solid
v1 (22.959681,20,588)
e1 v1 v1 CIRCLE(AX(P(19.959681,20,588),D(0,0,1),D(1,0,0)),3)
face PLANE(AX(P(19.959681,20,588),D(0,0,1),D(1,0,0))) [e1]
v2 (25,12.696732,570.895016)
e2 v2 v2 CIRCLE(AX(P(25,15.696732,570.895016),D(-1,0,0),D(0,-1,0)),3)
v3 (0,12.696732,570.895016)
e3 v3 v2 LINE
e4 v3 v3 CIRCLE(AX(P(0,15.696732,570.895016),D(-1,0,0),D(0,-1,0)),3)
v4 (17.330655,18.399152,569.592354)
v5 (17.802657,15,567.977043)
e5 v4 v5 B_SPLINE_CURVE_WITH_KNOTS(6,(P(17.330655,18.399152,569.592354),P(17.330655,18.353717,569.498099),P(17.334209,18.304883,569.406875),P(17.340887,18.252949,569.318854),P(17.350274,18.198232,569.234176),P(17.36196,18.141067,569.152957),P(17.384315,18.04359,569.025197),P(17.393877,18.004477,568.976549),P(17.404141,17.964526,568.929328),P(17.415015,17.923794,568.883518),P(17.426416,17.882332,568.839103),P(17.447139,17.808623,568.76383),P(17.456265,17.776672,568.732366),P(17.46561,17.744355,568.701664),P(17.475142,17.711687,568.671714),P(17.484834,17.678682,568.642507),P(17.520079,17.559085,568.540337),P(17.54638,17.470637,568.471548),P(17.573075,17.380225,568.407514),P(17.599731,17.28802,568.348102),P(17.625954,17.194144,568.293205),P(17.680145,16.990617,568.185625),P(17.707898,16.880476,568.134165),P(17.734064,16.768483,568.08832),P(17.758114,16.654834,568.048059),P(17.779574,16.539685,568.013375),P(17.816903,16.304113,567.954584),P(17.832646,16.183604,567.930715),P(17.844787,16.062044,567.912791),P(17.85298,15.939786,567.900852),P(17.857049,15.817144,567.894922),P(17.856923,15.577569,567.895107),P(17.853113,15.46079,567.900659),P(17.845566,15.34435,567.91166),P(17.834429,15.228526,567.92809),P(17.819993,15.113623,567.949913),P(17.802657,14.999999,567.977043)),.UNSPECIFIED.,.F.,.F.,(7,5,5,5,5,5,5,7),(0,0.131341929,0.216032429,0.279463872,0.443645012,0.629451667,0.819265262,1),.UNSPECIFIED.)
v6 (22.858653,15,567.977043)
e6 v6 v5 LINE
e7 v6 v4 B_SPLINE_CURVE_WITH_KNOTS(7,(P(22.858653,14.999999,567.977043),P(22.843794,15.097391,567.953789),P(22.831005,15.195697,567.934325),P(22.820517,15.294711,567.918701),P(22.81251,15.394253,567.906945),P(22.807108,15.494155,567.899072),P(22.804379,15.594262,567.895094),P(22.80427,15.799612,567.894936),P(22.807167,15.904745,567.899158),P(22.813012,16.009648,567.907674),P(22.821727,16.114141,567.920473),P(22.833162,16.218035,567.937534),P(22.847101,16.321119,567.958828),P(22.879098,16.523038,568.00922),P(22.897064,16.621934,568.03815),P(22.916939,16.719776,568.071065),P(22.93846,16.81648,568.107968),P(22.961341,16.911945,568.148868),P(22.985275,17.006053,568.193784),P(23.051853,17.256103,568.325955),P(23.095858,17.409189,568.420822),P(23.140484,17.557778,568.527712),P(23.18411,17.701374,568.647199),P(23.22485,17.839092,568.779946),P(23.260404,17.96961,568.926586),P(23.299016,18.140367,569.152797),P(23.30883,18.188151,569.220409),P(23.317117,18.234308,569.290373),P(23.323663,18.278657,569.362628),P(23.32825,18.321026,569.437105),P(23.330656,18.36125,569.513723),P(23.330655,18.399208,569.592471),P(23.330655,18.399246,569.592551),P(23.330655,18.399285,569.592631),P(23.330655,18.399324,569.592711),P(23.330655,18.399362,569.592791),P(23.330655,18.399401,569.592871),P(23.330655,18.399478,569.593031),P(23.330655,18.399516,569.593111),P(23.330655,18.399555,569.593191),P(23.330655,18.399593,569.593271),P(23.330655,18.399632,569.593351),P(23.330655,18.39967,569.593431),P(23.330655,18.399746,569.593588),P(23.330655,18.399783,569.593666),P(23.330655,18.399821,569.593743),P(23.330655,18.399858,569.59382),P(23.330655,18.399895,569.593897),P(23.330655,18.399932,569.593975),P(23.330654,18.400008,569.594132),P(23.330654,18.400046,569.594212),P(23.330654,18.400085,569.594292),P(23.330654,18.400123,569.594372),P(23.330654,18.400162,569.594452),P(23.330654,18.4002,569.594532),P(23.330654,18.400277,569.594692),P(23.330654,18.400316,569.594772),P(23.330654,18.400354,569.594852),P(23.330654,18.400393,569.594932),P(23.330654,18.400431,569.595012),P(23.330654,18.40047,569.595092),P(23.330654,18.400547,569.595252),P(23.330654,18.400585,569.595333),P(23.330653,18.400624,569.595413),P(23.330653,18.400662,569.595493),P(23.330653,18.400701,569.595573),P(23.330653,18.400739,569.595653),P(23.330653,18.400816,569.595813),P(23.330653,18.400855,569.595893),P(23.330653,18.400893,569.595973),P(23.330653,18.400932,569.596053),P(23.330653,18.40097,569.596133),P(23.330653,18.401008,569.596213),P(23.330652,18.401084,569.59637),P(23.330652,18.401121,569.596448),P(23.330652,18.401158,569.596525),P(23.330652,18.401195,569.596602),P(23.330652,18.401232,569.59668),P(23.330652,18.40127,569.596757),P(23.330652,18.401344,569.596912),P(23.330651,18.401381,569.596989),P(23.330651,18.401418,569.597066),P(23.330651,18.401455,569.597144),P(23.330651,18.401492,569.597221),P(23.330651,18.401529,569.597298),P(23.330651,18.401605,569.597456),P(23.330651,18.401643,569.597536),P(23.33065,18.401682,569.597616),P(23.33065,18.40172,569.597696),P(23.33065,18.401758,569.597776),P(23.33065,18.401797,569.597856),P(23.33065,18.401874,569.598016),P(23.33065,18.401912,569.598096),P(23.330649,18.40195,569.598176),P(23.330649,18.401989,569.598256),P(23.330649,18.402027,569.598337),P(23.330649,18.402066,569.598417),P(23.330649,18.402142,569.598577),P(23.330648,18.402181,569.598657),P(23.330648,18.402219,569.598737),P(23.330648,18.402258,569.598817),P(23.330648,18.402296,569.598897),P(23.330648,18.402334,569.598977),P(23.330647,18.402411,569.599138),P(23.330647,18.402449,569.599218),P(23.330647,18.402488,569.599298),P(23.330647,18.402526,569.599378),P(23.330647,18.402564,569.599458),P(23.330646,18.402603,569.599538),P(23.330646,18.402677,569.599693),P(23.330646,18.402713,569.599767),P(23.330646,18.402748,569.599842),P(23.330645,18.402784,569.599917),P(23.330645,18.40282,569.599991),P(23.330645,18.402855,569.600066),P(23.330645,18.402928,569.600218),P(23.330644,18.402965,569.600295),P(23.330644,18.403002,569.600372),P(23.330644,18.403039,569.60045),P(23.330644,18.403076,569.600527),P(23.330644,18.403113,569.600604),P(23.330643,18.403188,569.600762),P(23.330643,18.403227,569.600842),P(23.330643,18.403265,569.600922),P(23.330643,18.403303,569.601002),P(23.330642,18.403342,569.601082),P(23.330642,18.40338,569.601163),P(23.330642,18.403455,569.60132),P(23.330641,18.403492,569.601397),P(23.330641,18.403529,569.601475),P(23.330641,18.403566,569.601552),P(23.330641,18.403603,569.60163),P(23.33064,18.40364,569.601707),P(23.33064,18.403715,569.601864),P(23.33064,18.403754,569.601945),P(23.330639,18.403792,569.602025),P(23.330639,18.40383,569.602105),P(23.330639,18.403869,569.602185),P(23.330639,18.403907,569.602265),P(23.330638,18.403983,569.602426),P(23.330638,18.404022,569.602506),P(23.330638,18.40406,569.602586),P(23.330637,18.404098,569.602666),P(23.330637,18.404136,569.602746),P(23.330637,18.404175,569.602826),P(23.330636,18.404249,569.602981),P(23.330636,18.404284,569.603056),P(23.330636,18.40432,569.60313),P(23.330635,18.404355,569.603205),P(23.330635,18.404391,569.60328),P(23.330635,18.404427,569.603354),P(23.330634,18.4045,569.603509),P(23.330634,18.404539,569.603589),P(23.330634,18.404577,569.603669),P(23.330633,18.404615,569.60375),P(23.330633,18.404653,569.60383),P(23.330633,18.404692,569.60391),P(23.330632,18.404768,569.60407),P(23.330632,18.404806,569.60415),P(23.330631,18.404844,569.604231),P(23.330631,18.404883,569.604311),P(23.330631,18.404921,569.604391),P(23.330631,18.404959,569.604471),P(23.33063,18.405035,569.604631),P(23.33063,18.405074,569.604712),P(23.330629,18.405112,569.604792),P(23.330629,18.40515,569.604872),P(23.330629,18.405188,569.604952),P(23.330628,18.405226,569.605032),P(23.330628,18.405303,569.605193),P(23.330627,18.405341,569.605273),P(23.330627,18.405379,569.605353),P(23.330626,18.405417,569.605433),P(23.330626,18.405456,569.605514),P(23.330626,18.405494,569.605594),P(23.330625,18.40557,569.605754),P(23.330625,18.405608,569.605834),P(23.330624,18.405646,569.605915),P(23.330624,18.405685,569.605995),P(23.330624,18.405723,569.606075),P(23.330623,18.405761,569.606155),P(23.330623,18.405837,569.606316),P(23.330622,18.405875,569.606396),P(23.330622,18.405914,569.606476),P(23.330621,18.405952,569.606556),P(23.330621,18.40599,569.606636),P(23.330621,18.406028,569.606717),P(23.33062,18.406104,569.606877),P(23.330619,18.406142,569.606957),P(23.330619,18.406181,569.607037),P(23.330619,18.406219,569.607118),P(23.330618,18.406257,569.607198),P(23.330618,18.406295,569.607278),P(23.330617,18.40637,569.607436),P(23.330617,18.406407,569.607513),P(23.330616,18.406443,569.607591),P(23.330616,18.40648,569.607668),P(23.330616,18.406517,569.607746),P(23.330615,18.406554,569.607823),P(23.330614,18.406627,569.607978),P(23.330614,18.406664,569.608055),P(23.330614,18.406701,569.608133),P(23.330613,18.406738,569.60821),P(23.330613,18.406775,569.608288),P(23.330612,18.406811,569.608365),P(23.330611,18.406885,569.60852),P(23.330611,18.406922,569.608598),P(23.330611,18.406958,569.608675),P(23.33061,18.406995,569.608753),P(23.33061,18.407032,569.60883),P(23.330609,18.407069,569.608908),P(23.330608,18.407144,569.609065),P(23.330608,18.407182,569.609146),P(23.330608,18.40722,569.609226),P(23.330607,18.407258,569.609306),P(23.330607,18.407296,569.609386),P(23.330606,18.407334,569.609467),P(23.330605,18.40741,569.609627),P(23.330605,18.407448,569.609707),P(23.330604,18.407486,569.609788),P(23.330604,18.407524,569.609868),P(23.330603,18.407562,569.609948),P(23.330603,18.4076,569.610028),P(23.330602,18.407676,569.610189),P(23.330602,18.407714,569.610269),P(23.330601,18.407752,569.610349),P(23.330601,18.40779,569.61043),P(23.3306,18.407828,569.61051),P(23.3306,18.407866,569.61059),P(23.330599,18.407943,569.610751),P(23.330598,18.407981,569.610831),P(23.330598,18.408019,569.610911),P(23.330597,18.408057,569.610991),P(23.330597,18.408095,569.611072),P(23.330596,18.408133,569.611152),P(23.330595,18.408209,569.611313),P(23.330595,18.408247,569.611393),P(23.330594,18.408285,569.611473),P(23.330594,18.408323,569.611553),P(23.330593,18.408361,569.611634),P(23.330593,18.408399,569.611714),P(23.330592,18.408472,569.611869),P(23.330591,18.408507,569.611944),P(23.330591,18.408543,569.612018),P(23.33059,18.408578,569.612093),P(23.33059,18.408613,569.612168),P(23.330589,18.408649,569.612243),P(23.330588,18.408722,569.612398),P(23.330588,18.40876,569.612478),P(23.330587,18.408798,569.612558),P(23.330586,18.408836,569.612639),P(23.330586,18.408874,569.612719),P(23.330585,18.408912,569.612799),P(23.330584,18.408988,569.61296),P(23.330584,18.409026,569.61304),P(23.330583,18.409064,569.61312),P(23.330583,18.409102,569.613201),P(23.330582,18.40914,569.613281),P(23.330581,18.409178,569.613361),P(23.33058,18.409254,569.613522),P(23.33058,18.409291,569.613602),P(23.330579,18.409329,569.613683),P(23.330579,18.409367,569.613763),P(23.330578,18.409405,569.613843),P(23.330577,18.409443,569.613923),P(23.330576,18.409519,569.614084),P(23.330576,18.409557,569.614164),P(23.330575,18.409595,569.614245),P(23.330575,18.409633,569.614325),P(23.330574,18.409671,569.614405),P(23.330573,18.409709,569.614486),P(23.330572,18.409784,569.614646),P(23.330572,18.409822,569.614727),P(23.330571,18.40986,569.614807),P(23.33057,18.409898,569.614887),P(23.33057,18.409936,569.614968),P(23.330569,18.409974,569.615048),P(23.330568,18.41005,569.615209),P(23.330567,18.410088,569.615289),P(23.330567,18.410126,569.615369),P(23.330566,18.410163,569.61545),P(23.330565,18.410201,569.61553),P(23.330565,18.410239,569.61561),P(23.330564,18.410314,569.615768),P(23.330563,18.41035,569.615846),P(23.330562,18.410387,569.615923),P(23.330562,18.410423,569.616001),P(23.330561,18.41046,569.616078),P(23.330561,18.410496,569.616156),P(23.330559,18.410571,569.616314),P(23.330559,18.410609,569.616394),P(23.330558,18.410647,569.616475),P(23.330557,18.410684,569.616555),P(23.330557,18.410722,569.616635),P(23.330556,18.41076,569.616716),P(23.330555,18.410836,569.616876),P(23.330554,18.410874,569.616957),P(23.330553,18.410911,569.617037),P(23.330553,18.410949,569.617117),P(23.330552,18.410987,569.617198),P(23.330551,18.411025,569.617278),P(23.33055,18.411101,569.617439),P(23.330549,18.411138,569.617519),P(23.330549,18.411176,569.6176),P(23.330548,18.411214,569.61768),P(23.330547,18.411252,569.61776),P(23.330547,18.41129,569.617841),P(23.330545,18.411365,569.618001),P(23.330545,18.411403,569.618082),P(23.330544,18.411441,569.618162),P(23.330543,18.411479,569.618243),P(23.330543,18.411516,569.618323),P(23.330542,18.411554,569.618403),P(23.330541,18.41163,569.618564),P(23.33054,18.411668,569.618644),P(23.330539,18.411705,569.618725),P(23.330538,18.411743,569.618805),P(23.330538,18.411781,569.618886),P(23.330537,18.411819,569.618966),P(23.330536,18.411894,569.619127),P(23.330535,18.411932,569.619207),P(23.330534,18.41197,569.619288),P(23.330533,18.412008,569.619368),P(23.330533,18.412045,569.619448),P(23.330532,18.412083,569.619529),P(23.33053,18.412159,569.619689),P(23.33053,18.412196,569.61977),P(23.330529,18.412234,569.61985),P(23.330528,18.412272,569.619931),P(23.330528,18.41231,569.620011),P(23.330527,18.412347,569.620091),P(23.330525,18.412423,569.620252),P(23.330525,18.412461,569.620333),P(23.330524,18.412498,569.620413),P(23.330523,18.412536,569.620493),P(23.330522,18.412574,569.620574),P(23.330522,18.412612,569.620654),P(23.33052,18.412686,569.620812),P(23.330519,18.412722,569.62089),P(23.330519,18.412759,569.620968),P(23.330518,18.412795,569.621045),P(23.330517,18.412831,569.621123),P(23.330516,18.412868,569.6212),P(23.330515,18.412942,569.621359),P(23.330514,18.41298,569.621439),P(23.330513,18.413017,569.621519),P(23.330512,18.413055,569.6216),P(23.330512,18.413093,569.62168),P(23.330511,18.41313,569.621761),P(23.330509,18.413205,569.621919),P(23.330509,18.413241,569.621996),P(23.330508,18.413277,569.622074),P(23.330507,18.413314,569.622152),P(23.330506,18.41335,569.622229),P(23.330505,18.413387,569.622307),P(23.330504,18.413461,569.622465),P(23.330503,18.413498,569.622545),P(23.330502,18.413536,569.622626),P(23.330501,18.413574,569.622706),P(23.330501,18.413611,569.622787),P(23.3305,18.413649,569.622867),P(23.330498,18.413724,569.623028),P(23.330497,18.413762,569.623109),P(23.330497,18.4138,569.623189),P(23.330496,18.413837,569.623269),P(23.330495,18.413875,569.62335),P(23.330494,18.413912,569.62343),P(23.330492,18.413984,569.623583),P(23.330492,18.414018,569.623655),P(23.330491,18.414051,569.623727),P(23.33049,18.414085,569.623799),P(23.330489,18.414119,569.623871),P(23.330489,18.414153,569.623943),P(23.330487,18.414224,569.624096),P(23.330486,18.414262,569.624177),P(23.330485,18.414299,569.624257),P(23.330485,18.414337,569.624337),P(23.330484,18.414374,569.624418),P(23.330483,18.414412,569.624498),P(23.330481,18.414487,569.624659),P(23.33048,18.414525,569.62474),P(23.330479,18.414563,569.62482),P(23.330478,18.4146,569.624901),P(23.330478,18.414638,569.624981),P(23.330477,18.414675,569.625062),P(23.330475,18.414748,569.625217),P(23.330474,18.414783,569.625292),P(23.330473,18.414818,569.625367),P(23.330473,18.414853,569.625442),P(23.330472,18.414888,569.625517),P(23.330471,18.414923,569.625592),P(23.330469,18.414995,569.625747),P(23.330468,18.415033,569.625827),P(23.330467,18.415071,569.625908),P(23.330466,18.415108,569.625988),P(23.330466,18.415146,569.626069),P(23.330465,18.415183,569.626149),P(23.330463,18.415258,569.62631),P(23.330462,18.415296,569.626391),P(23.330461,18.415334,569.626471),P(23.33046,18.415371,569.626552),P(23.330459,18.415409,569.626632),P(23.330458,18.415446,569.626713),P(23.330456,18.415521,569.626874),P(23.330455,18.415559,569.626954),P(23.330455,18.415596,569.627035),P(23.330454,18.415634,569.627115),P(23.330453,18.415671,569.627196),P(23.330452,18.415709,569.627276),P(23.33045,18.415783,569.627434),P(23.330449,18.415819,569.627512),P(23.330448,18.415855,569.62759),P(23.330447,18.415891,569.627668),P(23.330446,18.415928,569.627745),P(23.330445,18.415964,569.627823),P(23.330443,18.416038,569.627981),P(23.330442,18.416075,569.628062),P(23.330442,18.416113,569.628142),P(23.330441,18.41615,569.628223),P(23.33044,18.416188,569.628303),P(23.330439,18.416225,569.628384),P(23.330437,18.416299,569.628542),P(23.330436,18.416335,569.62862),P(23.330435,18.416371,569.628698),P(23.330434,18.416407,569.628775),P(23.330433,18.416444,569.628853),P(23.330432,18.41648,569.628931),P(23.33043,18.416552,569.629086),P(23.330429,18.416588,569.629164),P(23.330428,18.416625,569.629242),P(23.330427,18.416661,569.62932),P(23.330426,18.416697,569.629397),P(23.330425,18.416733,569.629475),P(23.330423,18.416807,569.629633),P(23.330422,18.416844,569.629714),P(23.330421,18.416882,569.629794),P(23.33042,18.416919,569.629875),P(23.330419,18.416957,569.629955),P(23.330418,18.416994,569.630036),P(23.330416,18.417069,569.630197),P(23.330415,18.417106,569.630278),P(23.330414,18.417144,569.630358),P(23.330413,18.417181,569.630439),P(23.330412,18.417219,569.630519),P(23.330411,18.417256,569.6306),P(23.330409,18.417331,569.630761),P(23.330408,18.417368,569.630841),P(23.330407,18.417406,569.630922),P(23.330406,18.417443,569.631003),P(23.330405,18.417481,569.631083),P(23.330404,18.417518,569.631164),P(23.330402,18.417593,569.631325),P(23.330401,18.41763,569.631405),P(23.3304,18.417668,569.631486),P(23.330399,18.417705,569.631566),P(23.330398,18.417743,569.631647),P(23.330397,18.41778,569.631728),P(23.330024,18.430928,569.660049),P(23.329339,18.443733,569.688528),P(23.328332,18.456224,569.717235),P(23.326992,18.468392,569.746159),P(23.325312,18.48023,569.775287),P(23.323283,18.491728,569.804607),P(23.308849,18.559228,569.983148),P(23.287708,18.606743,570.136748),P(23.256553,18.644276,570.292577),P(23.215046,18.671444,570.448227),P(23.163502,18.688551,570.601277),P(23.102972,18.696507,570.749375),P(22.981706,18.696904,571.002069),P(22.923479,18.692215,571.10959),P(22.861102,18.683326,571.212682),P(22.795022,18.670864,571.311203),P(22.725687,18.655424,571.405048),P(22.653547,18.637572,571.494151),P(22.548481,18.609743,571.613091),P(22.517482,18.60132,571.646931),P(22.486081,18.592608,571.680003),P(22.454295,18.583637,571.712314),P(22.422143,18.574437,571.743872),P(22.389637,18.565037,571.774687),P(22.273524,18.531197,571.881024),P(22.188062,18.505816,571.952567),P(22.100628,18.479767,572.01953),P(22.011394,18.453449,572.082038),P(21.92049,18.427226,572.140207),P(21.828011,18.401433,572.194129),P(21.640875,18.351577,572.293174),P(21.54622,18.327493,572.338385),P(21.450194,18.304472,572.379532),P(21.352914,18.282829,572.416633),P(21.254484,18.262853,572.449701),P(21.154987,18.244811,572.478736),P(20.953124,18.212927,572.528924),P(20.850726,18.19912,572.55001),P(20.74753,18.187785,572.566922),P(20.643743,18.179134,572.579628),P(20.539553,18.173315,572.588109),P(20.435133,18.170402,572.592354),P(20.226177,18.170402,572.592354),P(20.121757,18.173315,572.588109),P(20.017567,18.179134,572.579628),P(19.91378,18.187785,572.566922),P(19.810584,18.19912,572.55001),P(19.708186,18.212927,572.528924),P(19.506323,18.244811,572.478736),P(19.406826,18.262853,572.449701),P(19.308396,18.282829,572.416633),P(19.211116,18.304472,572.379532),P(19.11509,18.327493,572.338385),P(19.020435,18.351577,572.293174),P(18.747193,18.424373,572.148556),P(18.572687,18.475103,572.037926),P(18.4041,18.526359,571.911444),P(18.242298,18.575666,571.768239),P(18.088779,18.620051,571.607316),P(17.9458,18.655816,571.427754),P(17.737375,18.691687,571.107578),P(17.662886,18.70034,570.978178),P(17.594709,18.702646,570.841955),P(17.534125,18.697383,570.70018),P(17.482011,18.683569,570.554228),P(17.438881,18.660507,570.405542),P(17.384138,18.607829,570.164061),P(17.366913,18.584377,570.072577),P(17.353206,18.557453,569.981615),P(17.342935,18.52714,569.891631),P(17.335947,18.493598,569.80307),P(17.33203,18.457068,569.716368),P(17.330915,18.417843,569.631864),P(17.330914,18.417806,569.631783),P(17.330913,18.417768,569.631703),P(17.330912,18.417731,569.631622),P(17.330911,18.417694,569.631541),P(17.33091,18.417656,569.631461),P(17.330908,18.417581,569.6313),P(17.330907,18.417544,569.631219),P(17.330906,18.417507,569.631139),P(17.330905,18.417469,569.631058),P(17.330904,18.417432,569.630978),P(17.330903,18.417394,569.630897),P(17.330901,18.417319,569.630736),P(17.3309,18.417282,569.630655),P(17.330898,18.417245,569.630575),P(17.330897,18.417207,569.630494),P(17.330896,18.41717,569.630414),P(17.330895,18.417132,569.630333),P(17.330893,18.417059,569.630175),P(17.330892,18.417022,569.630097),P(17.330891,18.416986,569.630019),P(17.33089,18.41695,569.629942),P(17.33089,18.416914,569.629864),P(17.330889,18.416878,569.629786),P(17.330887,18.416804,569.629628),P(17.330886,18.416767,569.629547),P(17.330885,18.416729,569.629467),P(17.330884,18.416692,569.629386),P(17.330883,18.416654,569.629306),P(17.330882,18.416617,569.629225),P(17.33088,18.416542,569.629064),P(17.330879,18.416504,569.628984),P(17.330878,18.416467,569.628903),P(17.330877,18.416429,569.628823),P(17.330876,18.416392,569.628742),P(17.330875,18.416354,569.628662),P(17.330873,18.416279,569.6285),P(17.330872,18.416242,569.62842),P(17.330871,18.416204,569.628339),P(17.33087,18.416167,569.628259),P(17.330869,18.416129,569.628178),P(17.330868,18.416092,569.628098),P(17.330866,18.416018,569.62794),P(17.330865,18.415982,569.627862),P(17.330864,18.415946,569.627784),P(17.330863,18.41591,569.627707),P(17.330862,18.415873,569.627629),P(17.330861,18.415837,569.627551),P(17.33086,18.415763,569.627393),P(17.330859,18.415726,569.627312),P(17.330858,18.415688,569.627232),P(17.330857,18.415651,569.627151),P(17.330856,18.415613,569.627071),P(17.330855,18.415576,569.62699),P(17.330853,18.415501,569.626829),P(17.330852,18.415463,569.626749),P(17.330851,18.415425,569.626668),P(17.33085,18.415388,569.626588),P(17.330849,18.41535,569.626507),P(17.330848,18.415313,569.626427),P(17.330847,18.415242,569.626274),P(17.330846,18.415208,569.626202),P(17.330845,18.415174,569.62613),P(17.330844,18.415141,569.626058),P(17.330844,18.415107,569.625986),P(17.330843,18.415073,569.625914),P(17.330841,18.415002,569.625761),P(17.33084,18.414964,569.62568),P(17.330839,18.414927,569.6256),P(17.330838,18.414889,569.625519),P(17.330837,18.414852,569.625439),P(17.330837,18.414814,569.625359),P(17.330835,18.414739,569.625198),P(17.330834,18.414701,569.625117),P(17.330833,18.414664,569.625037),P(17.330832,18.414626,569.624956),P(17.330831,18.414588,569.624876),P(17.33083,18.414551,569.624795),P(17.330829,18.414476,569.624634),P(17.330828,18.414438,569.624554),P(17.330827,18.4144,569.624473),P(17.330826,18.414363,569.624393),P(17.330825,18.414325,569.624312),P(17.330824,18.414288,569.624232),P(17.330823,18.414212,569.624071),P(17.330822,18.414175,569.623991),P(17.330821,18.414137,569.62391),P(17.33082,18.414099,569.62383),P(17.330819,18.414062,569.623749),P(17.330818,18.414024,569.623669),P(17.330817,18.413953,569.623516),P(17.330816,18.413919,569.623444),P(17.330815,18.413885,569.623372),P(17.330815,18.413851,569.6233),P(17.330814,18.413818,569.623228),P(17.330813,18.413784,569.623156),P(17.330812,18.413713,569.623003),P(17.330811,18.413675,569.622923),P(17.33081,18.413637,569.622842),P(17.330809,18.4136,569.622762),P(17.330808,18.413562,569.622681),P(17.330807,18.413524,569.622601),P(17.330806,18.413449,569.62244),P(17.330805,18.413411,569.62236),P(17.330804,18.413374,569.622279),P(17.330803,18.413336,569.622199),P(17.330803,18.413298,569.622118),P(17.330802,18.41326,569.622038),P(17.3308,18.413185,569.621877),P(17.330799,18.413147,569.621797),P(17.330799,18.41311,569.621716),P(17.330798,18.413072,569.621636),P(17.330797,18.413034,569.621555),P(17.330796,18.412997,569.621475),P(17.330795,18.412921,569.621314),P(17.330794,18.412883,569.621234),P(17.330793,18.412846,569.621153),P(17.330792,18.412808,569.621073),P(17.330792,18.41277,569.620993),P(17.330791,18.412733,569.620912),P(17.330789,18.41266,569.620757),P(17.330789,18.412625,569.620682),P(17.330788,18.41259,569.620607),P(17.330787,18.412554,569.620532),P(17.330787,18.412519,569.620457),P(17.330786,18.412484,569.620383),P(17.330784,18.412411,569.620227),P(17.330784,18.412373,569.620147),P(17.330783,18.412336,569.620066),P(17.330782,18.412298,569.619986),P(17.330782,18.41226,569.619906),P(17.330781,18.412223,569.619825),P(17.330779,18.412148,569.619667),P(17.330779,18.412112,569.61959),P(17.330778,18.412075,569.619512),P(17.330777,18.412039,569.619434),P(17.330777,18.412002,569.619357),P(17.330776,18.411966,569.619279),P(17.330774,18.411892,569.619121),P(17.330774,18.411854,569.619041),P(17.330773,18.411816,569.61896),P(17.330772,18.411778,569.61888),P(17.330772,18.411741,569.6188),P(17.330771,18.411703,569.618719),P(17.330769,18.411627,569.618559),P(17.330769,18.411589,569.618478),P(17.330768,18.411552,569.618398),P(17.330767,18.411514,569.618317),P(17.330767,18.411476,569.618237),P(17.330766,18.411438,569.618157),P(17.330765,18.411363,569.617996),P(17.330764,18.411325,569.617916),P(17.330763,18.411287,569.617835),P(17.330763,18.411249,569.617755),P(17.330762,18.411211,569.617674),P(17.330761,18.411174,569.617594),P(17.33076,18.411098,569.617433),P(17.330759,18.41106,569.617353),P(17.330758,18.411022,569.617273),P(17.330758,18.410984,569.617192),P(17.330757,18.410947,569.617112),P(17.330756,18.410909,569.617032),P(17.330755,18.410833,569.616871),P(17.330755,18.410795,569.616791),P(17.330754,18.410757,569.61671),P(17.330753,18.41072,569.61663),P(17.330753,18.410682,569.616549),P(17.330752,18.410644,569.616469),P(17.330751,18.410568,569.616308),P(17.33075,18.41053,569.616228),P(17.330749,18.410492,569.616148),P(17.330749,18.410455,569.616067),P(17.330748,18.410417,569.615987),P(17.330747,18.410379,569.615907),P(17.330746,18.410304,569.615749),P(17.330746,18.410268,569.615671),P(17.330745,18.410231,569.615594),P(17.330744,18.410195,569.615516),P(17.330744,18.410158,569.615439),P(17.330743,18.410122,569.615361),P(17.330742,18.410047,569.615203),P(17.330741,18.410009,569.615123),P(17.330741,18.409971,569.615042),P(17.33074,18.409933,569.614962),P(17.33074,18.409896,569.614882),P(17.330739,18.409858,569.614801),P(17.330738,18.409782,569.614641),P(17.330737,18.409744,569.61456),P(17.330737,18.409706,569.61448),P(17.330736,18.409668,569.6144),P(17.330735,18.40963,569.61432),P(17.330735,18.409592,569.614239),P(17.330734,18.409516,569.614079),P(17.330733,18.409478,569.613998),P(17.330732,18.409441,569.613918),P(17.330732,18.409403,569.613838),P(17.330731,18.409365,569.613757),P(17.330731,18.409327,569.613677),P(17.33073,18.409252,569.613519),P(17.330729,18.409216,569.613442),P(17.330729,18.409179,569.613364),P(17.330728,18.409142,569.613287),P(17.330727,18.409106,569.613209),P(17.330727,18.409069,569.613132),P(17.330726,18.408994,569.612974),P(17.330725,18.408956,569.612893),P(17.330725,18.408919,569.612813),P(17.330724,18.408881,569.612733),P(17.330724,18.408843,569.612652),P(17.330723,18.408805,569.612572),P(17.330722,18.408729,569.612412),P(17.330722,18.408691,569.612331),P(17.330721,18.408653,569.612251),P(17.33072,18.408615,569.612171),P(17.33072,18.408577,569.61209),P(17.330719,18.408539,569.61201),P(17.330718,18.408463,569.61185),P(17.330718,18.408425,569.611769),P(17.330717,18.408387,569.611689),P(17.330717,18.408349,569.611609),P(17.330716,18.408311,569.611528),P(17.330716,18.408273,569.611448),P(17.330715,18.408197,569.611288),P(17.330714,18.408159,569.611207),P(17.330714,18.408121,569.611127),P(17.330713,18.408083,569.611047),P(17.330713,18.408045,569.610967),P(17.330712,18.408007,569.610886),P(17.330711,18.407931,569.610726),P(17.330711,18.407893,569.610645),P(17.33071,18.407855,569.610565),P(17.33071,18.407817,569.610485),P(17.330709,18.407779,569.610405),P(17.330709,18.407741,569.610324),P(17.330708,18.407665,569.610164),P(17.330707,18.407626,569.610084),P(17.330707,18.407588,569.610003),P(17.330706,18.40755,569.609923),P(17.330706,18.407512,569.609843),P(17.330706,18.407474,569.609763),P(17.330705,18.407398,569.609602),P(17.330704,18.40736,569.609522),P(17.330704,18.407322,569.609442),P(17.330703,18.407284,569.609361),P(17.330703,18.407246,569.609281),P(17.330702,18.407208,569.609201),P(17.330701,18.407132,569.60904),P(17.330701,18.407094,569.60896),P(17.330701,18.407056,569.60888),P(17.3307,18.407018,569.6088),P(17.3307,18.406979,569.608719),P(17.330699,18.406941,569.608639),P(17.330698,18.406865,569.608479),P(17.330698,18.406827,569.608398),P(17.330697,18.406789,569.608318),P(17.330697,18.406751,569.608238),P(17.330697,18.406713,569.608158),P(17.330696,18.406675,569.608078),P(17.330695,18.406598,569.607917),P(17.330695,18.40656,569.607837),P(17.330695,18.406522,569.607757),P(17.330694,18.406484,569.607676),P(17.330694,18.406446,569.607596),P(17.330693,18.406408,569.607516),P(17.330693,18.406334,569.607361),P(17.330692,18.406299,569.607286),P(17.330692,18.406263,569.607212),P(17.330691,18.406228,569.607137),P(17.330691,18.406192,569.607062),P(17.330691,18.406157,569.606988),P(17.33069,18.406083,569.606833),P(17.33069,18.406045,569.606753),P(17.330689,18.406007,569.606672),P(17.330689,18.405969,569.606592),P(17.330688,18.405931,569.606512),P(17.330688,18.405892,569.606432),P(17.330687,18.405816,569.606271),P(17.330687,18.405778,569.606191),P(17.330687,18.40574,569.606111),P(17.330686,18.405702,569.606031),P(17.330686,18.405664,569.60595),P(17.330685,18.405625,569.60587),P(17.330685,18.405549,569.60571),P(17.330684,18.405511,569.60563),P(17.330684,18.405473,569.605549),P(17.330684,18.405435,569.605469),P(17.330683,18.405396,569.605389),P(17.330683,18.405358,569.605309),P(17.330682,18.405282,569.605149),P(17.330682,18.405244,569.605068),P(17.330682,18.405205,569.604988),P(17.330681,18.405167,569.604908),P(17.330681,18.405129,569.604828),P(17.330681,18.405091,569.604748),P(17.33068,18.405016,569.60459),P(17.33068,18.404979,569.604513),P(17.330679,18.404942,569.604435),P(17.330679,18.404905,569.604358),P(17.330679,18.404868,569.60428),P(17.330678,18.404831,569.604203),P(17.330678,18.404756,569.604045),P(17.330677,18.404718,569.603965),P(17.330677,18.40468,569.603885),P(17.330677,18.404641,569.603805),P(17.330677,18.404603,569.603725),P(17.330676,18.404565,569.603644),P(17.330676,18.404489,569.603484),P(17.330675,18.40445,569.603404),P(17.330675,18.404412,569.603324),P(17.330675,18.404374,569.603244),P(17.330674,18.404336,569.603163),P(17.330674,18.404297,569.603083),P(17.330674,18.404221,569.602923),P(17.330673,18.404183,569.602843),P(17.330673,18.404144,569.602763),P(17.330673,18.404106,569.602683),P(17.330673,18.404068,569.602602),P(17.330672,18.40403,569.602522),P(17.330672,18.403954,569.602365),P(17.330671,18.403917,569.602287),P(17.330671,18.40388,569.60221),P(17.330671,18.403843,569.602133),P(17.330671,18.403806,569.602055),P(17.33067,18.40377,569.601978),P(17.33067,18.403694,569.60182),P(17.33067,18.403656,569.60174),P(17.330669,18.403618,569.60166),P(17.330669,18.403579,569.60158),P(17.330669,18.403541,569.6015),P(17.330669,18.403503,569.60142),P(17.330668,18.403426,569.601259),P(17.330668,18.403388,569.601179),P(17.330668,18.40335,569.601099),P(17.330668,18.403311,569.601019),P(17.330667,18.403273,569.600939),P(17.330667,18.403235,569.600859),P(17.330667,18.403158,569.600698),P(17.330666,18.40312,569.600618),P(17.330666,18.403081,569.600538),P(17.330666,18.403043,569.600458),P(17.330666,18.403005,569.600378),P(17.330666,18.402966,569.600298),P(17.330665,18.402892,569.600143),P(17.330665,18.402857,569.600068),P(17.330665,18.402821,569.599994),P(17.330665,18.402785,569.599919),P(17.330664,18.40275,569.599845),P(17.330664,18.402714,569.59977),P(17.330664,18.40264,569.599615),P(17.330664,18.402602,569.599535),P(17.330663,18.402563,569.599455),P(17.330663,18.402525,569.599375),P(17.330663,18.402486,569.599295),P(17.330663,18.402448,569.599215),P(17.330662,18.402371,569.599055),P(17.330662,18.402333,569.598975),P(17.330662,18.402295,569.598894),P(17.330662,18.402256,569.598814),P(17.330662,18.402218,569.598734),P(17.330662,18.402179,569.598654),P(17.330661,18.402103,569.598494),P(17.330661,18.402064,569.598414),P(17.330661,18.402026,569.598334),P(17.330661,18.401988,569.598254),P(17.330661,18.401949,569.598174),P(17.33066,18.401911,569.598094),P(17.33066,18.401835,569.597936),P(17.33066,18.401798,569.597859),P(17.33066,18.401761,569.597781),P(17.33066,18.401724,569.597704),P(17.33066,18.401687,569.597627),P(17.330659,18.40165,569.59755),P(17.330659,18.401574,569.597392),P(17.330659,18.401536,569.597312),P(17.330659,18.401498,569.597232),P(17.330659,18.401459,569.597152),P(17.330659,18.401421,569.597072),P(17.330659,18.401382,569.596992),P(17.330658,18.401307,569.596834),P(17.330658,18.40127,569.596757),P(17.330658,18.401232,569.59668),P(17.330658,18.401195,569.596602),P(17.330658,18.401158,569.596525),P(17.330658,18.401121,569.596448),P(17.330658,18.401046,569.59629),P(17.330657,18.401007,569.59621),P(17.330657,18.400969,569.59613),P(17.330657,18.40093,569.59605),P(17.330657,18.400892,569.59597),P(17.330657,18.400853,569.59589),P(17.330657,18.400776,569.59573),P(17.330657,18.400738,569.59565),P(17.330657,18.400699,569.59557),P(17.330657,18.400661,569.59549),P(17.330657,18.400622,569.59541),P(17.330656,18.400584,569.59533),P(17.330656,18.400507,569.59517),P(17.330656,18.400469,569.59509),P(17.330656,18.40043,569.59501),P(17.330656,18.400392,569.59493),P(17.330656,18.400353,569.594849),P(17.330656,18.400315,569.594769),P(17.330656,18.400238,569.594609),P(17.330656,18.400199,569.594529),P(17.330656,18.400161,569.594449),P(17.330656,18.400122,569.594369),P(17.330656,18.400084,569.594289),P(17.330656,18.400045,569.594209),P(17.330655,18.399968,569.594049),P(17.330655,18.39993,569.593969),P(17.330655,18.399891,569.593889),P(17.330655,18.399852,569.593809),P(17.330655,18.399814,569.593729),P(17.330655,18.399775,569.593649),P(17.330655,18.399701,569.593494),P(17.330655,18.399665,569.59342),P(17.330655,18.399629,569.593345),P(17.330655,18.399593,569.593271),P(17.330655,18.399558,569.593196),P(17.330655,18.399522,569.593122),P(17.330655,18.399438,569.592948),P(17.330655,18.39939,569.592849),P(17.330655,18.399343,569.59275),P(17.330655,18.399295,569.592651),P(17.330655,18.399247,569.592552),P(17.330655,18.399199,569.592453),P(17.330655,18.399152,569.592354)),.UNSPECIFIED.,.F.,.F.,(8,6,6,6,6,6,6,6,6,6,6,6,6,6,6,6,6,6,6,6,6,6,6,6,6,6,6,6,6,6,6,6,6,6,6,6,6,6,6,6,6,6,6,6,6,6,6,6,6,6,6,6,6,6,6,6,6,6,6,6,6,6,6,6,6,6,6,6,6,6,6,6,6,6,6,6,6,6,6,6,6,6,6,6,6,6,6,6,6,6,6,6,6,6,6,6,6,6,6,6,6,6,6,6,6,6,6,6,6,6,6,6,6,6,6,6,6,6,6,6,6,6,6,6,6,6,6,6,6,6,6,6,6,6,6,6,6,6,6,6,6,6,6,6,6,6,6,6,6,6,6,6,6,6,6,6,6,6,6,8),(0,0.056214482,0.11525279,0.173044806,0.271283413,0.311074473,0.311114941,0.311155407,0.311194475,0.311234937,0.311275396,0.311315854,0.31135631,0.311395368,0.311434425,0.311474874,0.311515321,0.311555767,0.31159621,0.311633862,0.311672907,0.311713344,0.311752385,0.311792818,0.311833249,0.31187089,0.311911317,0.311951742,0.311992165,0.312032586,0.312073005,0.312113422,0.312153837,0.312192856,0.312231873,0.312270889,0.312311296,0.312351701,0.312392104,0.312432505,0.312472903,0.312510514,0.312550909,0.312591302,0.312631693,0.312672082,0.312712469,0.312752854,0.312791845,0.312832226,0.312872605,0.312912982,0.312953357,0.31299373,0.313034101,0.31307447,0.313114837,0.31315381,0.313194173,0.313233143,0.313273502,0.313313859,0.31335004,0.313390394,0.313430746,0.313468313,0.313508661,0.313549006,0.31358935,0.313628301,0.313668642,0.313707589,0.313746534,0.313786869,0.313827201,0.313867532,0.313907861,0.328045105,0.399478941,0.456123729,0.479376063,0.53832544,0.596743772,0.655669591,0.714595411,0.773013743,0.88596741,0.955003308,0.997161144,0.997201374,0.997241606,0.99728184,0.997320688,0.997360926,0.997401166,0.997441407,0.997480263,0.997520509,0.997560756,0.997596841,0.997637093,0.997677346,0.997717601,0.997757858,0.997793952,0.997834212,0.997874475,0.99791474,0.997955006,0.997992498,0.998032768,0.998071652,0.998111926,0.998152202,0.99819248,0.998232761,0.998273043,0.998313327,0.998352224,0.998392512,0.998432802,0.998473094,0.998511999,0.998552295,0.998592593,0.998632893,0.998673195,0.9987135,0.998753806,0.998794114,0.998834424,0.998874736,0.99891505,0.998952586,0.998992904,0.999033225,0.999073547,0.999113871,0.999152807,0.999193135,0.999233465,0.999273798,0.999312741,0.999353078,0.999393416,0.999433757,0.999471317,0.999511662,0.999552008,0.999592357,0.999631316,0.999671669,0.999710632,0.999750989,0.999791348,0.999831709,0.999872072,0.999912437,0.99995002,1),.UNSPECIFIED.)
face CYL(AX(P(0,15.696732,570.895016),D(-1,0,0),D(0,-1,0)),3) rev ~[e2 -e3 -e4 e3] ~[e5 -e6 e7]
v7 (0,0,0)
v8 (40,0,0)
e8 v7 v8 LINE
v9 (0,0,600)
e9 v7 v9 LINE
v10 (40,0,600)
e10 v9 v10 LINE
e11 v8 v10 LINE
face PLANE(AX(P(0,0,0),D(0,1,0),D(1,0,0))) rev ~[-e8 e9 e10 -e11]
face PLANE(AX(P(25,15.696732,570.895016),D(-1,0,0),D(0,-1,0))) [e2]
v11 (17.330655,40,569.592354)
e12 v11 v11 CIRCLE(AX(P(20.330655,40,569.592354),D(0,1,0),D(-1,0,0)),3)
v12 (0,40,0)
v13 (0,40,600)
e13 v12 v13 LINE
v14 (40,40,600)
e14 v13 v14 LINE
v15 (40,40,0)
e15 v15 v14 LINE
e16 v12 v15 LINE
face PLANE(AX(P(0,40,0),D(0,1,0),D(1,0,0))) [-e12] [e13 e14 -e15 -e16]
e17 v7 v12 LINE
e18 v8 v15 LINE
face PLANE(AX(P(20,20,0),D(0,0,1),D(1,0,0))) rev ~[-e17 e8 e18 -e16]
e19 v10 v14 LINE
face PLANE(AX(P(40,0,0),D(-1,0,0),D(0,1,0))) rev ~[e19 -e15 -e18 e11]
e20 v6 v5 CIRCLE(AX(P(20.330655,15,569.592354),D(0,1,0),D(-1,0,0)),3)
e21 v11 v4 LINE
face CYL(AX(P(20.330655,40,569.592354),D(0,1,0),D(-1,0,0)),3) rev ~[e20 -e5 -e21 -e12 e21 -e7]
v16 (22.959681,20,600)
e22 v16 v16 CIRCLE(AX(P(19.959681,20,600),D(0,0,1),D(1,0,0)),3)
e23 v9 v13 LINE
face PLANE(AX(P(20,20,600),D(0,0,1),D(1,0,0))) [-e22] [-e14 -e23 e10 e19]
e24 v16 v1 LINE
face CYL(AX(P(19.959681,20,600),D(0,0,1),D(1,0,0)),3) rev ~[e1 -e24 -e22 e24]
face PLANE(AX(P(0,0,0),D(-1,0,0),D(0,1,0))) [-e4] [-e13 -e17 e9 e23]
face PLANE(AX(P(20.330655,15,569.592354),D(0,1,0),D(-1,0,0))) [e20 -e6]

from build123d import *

# Parameters (mm, degrees)
F0_W     = 40
F0_H     = 40
F1_DEPTH = 600
F2_R     = 3
F3_DEPTH = 12
F4_R     = 3
F5_DEPTH = 25
F6_R     = 3
F7_DEPTH = 25


with BuildPart() as f1:
    # F0 (on Top) → F1 (new body)
    with BuildSketch(Plane.XY):
        with Locations((20, 20)):
            Rectangle(F0_W, F0_H)
    extrude(amount=F1_DEPTH)

    # F2 (on face) → F3 (cut)
    with BuildSketch(Plane.XY.offset(600)):
        with Locations((19.959681, 20)):
            Circle(F2_R)
    extrude(amount=-F3_DEPTH, mode=Mode.SUBTRACT)

    # F4 (on face) → F5 (cut)
    with BuildSketch(Plane(origin=(0, 0, 0), x_dir=(0, -1, 0), z_dir=(-1, 0, 0))):
        with Locations((-15.696732, 570.895016)):
            Circle(F4_R)
    extrude(amount=-F5_DEPTH, mode=Mode.SUBTRACT)

    # F6 (on face) → F7 (cut)
    with BuildSketch(Plane(origin=(0, 40, 0), x_dir=(-1, 0, 0), z_dir=(0, 1, 0))):
        with Locations((-20.330655, 569.592354)):
            Circle(F6_R)
    extrude(amount=-F7_DEPTH, mode=Mode.SUBTRACT)


solid = f1.part
